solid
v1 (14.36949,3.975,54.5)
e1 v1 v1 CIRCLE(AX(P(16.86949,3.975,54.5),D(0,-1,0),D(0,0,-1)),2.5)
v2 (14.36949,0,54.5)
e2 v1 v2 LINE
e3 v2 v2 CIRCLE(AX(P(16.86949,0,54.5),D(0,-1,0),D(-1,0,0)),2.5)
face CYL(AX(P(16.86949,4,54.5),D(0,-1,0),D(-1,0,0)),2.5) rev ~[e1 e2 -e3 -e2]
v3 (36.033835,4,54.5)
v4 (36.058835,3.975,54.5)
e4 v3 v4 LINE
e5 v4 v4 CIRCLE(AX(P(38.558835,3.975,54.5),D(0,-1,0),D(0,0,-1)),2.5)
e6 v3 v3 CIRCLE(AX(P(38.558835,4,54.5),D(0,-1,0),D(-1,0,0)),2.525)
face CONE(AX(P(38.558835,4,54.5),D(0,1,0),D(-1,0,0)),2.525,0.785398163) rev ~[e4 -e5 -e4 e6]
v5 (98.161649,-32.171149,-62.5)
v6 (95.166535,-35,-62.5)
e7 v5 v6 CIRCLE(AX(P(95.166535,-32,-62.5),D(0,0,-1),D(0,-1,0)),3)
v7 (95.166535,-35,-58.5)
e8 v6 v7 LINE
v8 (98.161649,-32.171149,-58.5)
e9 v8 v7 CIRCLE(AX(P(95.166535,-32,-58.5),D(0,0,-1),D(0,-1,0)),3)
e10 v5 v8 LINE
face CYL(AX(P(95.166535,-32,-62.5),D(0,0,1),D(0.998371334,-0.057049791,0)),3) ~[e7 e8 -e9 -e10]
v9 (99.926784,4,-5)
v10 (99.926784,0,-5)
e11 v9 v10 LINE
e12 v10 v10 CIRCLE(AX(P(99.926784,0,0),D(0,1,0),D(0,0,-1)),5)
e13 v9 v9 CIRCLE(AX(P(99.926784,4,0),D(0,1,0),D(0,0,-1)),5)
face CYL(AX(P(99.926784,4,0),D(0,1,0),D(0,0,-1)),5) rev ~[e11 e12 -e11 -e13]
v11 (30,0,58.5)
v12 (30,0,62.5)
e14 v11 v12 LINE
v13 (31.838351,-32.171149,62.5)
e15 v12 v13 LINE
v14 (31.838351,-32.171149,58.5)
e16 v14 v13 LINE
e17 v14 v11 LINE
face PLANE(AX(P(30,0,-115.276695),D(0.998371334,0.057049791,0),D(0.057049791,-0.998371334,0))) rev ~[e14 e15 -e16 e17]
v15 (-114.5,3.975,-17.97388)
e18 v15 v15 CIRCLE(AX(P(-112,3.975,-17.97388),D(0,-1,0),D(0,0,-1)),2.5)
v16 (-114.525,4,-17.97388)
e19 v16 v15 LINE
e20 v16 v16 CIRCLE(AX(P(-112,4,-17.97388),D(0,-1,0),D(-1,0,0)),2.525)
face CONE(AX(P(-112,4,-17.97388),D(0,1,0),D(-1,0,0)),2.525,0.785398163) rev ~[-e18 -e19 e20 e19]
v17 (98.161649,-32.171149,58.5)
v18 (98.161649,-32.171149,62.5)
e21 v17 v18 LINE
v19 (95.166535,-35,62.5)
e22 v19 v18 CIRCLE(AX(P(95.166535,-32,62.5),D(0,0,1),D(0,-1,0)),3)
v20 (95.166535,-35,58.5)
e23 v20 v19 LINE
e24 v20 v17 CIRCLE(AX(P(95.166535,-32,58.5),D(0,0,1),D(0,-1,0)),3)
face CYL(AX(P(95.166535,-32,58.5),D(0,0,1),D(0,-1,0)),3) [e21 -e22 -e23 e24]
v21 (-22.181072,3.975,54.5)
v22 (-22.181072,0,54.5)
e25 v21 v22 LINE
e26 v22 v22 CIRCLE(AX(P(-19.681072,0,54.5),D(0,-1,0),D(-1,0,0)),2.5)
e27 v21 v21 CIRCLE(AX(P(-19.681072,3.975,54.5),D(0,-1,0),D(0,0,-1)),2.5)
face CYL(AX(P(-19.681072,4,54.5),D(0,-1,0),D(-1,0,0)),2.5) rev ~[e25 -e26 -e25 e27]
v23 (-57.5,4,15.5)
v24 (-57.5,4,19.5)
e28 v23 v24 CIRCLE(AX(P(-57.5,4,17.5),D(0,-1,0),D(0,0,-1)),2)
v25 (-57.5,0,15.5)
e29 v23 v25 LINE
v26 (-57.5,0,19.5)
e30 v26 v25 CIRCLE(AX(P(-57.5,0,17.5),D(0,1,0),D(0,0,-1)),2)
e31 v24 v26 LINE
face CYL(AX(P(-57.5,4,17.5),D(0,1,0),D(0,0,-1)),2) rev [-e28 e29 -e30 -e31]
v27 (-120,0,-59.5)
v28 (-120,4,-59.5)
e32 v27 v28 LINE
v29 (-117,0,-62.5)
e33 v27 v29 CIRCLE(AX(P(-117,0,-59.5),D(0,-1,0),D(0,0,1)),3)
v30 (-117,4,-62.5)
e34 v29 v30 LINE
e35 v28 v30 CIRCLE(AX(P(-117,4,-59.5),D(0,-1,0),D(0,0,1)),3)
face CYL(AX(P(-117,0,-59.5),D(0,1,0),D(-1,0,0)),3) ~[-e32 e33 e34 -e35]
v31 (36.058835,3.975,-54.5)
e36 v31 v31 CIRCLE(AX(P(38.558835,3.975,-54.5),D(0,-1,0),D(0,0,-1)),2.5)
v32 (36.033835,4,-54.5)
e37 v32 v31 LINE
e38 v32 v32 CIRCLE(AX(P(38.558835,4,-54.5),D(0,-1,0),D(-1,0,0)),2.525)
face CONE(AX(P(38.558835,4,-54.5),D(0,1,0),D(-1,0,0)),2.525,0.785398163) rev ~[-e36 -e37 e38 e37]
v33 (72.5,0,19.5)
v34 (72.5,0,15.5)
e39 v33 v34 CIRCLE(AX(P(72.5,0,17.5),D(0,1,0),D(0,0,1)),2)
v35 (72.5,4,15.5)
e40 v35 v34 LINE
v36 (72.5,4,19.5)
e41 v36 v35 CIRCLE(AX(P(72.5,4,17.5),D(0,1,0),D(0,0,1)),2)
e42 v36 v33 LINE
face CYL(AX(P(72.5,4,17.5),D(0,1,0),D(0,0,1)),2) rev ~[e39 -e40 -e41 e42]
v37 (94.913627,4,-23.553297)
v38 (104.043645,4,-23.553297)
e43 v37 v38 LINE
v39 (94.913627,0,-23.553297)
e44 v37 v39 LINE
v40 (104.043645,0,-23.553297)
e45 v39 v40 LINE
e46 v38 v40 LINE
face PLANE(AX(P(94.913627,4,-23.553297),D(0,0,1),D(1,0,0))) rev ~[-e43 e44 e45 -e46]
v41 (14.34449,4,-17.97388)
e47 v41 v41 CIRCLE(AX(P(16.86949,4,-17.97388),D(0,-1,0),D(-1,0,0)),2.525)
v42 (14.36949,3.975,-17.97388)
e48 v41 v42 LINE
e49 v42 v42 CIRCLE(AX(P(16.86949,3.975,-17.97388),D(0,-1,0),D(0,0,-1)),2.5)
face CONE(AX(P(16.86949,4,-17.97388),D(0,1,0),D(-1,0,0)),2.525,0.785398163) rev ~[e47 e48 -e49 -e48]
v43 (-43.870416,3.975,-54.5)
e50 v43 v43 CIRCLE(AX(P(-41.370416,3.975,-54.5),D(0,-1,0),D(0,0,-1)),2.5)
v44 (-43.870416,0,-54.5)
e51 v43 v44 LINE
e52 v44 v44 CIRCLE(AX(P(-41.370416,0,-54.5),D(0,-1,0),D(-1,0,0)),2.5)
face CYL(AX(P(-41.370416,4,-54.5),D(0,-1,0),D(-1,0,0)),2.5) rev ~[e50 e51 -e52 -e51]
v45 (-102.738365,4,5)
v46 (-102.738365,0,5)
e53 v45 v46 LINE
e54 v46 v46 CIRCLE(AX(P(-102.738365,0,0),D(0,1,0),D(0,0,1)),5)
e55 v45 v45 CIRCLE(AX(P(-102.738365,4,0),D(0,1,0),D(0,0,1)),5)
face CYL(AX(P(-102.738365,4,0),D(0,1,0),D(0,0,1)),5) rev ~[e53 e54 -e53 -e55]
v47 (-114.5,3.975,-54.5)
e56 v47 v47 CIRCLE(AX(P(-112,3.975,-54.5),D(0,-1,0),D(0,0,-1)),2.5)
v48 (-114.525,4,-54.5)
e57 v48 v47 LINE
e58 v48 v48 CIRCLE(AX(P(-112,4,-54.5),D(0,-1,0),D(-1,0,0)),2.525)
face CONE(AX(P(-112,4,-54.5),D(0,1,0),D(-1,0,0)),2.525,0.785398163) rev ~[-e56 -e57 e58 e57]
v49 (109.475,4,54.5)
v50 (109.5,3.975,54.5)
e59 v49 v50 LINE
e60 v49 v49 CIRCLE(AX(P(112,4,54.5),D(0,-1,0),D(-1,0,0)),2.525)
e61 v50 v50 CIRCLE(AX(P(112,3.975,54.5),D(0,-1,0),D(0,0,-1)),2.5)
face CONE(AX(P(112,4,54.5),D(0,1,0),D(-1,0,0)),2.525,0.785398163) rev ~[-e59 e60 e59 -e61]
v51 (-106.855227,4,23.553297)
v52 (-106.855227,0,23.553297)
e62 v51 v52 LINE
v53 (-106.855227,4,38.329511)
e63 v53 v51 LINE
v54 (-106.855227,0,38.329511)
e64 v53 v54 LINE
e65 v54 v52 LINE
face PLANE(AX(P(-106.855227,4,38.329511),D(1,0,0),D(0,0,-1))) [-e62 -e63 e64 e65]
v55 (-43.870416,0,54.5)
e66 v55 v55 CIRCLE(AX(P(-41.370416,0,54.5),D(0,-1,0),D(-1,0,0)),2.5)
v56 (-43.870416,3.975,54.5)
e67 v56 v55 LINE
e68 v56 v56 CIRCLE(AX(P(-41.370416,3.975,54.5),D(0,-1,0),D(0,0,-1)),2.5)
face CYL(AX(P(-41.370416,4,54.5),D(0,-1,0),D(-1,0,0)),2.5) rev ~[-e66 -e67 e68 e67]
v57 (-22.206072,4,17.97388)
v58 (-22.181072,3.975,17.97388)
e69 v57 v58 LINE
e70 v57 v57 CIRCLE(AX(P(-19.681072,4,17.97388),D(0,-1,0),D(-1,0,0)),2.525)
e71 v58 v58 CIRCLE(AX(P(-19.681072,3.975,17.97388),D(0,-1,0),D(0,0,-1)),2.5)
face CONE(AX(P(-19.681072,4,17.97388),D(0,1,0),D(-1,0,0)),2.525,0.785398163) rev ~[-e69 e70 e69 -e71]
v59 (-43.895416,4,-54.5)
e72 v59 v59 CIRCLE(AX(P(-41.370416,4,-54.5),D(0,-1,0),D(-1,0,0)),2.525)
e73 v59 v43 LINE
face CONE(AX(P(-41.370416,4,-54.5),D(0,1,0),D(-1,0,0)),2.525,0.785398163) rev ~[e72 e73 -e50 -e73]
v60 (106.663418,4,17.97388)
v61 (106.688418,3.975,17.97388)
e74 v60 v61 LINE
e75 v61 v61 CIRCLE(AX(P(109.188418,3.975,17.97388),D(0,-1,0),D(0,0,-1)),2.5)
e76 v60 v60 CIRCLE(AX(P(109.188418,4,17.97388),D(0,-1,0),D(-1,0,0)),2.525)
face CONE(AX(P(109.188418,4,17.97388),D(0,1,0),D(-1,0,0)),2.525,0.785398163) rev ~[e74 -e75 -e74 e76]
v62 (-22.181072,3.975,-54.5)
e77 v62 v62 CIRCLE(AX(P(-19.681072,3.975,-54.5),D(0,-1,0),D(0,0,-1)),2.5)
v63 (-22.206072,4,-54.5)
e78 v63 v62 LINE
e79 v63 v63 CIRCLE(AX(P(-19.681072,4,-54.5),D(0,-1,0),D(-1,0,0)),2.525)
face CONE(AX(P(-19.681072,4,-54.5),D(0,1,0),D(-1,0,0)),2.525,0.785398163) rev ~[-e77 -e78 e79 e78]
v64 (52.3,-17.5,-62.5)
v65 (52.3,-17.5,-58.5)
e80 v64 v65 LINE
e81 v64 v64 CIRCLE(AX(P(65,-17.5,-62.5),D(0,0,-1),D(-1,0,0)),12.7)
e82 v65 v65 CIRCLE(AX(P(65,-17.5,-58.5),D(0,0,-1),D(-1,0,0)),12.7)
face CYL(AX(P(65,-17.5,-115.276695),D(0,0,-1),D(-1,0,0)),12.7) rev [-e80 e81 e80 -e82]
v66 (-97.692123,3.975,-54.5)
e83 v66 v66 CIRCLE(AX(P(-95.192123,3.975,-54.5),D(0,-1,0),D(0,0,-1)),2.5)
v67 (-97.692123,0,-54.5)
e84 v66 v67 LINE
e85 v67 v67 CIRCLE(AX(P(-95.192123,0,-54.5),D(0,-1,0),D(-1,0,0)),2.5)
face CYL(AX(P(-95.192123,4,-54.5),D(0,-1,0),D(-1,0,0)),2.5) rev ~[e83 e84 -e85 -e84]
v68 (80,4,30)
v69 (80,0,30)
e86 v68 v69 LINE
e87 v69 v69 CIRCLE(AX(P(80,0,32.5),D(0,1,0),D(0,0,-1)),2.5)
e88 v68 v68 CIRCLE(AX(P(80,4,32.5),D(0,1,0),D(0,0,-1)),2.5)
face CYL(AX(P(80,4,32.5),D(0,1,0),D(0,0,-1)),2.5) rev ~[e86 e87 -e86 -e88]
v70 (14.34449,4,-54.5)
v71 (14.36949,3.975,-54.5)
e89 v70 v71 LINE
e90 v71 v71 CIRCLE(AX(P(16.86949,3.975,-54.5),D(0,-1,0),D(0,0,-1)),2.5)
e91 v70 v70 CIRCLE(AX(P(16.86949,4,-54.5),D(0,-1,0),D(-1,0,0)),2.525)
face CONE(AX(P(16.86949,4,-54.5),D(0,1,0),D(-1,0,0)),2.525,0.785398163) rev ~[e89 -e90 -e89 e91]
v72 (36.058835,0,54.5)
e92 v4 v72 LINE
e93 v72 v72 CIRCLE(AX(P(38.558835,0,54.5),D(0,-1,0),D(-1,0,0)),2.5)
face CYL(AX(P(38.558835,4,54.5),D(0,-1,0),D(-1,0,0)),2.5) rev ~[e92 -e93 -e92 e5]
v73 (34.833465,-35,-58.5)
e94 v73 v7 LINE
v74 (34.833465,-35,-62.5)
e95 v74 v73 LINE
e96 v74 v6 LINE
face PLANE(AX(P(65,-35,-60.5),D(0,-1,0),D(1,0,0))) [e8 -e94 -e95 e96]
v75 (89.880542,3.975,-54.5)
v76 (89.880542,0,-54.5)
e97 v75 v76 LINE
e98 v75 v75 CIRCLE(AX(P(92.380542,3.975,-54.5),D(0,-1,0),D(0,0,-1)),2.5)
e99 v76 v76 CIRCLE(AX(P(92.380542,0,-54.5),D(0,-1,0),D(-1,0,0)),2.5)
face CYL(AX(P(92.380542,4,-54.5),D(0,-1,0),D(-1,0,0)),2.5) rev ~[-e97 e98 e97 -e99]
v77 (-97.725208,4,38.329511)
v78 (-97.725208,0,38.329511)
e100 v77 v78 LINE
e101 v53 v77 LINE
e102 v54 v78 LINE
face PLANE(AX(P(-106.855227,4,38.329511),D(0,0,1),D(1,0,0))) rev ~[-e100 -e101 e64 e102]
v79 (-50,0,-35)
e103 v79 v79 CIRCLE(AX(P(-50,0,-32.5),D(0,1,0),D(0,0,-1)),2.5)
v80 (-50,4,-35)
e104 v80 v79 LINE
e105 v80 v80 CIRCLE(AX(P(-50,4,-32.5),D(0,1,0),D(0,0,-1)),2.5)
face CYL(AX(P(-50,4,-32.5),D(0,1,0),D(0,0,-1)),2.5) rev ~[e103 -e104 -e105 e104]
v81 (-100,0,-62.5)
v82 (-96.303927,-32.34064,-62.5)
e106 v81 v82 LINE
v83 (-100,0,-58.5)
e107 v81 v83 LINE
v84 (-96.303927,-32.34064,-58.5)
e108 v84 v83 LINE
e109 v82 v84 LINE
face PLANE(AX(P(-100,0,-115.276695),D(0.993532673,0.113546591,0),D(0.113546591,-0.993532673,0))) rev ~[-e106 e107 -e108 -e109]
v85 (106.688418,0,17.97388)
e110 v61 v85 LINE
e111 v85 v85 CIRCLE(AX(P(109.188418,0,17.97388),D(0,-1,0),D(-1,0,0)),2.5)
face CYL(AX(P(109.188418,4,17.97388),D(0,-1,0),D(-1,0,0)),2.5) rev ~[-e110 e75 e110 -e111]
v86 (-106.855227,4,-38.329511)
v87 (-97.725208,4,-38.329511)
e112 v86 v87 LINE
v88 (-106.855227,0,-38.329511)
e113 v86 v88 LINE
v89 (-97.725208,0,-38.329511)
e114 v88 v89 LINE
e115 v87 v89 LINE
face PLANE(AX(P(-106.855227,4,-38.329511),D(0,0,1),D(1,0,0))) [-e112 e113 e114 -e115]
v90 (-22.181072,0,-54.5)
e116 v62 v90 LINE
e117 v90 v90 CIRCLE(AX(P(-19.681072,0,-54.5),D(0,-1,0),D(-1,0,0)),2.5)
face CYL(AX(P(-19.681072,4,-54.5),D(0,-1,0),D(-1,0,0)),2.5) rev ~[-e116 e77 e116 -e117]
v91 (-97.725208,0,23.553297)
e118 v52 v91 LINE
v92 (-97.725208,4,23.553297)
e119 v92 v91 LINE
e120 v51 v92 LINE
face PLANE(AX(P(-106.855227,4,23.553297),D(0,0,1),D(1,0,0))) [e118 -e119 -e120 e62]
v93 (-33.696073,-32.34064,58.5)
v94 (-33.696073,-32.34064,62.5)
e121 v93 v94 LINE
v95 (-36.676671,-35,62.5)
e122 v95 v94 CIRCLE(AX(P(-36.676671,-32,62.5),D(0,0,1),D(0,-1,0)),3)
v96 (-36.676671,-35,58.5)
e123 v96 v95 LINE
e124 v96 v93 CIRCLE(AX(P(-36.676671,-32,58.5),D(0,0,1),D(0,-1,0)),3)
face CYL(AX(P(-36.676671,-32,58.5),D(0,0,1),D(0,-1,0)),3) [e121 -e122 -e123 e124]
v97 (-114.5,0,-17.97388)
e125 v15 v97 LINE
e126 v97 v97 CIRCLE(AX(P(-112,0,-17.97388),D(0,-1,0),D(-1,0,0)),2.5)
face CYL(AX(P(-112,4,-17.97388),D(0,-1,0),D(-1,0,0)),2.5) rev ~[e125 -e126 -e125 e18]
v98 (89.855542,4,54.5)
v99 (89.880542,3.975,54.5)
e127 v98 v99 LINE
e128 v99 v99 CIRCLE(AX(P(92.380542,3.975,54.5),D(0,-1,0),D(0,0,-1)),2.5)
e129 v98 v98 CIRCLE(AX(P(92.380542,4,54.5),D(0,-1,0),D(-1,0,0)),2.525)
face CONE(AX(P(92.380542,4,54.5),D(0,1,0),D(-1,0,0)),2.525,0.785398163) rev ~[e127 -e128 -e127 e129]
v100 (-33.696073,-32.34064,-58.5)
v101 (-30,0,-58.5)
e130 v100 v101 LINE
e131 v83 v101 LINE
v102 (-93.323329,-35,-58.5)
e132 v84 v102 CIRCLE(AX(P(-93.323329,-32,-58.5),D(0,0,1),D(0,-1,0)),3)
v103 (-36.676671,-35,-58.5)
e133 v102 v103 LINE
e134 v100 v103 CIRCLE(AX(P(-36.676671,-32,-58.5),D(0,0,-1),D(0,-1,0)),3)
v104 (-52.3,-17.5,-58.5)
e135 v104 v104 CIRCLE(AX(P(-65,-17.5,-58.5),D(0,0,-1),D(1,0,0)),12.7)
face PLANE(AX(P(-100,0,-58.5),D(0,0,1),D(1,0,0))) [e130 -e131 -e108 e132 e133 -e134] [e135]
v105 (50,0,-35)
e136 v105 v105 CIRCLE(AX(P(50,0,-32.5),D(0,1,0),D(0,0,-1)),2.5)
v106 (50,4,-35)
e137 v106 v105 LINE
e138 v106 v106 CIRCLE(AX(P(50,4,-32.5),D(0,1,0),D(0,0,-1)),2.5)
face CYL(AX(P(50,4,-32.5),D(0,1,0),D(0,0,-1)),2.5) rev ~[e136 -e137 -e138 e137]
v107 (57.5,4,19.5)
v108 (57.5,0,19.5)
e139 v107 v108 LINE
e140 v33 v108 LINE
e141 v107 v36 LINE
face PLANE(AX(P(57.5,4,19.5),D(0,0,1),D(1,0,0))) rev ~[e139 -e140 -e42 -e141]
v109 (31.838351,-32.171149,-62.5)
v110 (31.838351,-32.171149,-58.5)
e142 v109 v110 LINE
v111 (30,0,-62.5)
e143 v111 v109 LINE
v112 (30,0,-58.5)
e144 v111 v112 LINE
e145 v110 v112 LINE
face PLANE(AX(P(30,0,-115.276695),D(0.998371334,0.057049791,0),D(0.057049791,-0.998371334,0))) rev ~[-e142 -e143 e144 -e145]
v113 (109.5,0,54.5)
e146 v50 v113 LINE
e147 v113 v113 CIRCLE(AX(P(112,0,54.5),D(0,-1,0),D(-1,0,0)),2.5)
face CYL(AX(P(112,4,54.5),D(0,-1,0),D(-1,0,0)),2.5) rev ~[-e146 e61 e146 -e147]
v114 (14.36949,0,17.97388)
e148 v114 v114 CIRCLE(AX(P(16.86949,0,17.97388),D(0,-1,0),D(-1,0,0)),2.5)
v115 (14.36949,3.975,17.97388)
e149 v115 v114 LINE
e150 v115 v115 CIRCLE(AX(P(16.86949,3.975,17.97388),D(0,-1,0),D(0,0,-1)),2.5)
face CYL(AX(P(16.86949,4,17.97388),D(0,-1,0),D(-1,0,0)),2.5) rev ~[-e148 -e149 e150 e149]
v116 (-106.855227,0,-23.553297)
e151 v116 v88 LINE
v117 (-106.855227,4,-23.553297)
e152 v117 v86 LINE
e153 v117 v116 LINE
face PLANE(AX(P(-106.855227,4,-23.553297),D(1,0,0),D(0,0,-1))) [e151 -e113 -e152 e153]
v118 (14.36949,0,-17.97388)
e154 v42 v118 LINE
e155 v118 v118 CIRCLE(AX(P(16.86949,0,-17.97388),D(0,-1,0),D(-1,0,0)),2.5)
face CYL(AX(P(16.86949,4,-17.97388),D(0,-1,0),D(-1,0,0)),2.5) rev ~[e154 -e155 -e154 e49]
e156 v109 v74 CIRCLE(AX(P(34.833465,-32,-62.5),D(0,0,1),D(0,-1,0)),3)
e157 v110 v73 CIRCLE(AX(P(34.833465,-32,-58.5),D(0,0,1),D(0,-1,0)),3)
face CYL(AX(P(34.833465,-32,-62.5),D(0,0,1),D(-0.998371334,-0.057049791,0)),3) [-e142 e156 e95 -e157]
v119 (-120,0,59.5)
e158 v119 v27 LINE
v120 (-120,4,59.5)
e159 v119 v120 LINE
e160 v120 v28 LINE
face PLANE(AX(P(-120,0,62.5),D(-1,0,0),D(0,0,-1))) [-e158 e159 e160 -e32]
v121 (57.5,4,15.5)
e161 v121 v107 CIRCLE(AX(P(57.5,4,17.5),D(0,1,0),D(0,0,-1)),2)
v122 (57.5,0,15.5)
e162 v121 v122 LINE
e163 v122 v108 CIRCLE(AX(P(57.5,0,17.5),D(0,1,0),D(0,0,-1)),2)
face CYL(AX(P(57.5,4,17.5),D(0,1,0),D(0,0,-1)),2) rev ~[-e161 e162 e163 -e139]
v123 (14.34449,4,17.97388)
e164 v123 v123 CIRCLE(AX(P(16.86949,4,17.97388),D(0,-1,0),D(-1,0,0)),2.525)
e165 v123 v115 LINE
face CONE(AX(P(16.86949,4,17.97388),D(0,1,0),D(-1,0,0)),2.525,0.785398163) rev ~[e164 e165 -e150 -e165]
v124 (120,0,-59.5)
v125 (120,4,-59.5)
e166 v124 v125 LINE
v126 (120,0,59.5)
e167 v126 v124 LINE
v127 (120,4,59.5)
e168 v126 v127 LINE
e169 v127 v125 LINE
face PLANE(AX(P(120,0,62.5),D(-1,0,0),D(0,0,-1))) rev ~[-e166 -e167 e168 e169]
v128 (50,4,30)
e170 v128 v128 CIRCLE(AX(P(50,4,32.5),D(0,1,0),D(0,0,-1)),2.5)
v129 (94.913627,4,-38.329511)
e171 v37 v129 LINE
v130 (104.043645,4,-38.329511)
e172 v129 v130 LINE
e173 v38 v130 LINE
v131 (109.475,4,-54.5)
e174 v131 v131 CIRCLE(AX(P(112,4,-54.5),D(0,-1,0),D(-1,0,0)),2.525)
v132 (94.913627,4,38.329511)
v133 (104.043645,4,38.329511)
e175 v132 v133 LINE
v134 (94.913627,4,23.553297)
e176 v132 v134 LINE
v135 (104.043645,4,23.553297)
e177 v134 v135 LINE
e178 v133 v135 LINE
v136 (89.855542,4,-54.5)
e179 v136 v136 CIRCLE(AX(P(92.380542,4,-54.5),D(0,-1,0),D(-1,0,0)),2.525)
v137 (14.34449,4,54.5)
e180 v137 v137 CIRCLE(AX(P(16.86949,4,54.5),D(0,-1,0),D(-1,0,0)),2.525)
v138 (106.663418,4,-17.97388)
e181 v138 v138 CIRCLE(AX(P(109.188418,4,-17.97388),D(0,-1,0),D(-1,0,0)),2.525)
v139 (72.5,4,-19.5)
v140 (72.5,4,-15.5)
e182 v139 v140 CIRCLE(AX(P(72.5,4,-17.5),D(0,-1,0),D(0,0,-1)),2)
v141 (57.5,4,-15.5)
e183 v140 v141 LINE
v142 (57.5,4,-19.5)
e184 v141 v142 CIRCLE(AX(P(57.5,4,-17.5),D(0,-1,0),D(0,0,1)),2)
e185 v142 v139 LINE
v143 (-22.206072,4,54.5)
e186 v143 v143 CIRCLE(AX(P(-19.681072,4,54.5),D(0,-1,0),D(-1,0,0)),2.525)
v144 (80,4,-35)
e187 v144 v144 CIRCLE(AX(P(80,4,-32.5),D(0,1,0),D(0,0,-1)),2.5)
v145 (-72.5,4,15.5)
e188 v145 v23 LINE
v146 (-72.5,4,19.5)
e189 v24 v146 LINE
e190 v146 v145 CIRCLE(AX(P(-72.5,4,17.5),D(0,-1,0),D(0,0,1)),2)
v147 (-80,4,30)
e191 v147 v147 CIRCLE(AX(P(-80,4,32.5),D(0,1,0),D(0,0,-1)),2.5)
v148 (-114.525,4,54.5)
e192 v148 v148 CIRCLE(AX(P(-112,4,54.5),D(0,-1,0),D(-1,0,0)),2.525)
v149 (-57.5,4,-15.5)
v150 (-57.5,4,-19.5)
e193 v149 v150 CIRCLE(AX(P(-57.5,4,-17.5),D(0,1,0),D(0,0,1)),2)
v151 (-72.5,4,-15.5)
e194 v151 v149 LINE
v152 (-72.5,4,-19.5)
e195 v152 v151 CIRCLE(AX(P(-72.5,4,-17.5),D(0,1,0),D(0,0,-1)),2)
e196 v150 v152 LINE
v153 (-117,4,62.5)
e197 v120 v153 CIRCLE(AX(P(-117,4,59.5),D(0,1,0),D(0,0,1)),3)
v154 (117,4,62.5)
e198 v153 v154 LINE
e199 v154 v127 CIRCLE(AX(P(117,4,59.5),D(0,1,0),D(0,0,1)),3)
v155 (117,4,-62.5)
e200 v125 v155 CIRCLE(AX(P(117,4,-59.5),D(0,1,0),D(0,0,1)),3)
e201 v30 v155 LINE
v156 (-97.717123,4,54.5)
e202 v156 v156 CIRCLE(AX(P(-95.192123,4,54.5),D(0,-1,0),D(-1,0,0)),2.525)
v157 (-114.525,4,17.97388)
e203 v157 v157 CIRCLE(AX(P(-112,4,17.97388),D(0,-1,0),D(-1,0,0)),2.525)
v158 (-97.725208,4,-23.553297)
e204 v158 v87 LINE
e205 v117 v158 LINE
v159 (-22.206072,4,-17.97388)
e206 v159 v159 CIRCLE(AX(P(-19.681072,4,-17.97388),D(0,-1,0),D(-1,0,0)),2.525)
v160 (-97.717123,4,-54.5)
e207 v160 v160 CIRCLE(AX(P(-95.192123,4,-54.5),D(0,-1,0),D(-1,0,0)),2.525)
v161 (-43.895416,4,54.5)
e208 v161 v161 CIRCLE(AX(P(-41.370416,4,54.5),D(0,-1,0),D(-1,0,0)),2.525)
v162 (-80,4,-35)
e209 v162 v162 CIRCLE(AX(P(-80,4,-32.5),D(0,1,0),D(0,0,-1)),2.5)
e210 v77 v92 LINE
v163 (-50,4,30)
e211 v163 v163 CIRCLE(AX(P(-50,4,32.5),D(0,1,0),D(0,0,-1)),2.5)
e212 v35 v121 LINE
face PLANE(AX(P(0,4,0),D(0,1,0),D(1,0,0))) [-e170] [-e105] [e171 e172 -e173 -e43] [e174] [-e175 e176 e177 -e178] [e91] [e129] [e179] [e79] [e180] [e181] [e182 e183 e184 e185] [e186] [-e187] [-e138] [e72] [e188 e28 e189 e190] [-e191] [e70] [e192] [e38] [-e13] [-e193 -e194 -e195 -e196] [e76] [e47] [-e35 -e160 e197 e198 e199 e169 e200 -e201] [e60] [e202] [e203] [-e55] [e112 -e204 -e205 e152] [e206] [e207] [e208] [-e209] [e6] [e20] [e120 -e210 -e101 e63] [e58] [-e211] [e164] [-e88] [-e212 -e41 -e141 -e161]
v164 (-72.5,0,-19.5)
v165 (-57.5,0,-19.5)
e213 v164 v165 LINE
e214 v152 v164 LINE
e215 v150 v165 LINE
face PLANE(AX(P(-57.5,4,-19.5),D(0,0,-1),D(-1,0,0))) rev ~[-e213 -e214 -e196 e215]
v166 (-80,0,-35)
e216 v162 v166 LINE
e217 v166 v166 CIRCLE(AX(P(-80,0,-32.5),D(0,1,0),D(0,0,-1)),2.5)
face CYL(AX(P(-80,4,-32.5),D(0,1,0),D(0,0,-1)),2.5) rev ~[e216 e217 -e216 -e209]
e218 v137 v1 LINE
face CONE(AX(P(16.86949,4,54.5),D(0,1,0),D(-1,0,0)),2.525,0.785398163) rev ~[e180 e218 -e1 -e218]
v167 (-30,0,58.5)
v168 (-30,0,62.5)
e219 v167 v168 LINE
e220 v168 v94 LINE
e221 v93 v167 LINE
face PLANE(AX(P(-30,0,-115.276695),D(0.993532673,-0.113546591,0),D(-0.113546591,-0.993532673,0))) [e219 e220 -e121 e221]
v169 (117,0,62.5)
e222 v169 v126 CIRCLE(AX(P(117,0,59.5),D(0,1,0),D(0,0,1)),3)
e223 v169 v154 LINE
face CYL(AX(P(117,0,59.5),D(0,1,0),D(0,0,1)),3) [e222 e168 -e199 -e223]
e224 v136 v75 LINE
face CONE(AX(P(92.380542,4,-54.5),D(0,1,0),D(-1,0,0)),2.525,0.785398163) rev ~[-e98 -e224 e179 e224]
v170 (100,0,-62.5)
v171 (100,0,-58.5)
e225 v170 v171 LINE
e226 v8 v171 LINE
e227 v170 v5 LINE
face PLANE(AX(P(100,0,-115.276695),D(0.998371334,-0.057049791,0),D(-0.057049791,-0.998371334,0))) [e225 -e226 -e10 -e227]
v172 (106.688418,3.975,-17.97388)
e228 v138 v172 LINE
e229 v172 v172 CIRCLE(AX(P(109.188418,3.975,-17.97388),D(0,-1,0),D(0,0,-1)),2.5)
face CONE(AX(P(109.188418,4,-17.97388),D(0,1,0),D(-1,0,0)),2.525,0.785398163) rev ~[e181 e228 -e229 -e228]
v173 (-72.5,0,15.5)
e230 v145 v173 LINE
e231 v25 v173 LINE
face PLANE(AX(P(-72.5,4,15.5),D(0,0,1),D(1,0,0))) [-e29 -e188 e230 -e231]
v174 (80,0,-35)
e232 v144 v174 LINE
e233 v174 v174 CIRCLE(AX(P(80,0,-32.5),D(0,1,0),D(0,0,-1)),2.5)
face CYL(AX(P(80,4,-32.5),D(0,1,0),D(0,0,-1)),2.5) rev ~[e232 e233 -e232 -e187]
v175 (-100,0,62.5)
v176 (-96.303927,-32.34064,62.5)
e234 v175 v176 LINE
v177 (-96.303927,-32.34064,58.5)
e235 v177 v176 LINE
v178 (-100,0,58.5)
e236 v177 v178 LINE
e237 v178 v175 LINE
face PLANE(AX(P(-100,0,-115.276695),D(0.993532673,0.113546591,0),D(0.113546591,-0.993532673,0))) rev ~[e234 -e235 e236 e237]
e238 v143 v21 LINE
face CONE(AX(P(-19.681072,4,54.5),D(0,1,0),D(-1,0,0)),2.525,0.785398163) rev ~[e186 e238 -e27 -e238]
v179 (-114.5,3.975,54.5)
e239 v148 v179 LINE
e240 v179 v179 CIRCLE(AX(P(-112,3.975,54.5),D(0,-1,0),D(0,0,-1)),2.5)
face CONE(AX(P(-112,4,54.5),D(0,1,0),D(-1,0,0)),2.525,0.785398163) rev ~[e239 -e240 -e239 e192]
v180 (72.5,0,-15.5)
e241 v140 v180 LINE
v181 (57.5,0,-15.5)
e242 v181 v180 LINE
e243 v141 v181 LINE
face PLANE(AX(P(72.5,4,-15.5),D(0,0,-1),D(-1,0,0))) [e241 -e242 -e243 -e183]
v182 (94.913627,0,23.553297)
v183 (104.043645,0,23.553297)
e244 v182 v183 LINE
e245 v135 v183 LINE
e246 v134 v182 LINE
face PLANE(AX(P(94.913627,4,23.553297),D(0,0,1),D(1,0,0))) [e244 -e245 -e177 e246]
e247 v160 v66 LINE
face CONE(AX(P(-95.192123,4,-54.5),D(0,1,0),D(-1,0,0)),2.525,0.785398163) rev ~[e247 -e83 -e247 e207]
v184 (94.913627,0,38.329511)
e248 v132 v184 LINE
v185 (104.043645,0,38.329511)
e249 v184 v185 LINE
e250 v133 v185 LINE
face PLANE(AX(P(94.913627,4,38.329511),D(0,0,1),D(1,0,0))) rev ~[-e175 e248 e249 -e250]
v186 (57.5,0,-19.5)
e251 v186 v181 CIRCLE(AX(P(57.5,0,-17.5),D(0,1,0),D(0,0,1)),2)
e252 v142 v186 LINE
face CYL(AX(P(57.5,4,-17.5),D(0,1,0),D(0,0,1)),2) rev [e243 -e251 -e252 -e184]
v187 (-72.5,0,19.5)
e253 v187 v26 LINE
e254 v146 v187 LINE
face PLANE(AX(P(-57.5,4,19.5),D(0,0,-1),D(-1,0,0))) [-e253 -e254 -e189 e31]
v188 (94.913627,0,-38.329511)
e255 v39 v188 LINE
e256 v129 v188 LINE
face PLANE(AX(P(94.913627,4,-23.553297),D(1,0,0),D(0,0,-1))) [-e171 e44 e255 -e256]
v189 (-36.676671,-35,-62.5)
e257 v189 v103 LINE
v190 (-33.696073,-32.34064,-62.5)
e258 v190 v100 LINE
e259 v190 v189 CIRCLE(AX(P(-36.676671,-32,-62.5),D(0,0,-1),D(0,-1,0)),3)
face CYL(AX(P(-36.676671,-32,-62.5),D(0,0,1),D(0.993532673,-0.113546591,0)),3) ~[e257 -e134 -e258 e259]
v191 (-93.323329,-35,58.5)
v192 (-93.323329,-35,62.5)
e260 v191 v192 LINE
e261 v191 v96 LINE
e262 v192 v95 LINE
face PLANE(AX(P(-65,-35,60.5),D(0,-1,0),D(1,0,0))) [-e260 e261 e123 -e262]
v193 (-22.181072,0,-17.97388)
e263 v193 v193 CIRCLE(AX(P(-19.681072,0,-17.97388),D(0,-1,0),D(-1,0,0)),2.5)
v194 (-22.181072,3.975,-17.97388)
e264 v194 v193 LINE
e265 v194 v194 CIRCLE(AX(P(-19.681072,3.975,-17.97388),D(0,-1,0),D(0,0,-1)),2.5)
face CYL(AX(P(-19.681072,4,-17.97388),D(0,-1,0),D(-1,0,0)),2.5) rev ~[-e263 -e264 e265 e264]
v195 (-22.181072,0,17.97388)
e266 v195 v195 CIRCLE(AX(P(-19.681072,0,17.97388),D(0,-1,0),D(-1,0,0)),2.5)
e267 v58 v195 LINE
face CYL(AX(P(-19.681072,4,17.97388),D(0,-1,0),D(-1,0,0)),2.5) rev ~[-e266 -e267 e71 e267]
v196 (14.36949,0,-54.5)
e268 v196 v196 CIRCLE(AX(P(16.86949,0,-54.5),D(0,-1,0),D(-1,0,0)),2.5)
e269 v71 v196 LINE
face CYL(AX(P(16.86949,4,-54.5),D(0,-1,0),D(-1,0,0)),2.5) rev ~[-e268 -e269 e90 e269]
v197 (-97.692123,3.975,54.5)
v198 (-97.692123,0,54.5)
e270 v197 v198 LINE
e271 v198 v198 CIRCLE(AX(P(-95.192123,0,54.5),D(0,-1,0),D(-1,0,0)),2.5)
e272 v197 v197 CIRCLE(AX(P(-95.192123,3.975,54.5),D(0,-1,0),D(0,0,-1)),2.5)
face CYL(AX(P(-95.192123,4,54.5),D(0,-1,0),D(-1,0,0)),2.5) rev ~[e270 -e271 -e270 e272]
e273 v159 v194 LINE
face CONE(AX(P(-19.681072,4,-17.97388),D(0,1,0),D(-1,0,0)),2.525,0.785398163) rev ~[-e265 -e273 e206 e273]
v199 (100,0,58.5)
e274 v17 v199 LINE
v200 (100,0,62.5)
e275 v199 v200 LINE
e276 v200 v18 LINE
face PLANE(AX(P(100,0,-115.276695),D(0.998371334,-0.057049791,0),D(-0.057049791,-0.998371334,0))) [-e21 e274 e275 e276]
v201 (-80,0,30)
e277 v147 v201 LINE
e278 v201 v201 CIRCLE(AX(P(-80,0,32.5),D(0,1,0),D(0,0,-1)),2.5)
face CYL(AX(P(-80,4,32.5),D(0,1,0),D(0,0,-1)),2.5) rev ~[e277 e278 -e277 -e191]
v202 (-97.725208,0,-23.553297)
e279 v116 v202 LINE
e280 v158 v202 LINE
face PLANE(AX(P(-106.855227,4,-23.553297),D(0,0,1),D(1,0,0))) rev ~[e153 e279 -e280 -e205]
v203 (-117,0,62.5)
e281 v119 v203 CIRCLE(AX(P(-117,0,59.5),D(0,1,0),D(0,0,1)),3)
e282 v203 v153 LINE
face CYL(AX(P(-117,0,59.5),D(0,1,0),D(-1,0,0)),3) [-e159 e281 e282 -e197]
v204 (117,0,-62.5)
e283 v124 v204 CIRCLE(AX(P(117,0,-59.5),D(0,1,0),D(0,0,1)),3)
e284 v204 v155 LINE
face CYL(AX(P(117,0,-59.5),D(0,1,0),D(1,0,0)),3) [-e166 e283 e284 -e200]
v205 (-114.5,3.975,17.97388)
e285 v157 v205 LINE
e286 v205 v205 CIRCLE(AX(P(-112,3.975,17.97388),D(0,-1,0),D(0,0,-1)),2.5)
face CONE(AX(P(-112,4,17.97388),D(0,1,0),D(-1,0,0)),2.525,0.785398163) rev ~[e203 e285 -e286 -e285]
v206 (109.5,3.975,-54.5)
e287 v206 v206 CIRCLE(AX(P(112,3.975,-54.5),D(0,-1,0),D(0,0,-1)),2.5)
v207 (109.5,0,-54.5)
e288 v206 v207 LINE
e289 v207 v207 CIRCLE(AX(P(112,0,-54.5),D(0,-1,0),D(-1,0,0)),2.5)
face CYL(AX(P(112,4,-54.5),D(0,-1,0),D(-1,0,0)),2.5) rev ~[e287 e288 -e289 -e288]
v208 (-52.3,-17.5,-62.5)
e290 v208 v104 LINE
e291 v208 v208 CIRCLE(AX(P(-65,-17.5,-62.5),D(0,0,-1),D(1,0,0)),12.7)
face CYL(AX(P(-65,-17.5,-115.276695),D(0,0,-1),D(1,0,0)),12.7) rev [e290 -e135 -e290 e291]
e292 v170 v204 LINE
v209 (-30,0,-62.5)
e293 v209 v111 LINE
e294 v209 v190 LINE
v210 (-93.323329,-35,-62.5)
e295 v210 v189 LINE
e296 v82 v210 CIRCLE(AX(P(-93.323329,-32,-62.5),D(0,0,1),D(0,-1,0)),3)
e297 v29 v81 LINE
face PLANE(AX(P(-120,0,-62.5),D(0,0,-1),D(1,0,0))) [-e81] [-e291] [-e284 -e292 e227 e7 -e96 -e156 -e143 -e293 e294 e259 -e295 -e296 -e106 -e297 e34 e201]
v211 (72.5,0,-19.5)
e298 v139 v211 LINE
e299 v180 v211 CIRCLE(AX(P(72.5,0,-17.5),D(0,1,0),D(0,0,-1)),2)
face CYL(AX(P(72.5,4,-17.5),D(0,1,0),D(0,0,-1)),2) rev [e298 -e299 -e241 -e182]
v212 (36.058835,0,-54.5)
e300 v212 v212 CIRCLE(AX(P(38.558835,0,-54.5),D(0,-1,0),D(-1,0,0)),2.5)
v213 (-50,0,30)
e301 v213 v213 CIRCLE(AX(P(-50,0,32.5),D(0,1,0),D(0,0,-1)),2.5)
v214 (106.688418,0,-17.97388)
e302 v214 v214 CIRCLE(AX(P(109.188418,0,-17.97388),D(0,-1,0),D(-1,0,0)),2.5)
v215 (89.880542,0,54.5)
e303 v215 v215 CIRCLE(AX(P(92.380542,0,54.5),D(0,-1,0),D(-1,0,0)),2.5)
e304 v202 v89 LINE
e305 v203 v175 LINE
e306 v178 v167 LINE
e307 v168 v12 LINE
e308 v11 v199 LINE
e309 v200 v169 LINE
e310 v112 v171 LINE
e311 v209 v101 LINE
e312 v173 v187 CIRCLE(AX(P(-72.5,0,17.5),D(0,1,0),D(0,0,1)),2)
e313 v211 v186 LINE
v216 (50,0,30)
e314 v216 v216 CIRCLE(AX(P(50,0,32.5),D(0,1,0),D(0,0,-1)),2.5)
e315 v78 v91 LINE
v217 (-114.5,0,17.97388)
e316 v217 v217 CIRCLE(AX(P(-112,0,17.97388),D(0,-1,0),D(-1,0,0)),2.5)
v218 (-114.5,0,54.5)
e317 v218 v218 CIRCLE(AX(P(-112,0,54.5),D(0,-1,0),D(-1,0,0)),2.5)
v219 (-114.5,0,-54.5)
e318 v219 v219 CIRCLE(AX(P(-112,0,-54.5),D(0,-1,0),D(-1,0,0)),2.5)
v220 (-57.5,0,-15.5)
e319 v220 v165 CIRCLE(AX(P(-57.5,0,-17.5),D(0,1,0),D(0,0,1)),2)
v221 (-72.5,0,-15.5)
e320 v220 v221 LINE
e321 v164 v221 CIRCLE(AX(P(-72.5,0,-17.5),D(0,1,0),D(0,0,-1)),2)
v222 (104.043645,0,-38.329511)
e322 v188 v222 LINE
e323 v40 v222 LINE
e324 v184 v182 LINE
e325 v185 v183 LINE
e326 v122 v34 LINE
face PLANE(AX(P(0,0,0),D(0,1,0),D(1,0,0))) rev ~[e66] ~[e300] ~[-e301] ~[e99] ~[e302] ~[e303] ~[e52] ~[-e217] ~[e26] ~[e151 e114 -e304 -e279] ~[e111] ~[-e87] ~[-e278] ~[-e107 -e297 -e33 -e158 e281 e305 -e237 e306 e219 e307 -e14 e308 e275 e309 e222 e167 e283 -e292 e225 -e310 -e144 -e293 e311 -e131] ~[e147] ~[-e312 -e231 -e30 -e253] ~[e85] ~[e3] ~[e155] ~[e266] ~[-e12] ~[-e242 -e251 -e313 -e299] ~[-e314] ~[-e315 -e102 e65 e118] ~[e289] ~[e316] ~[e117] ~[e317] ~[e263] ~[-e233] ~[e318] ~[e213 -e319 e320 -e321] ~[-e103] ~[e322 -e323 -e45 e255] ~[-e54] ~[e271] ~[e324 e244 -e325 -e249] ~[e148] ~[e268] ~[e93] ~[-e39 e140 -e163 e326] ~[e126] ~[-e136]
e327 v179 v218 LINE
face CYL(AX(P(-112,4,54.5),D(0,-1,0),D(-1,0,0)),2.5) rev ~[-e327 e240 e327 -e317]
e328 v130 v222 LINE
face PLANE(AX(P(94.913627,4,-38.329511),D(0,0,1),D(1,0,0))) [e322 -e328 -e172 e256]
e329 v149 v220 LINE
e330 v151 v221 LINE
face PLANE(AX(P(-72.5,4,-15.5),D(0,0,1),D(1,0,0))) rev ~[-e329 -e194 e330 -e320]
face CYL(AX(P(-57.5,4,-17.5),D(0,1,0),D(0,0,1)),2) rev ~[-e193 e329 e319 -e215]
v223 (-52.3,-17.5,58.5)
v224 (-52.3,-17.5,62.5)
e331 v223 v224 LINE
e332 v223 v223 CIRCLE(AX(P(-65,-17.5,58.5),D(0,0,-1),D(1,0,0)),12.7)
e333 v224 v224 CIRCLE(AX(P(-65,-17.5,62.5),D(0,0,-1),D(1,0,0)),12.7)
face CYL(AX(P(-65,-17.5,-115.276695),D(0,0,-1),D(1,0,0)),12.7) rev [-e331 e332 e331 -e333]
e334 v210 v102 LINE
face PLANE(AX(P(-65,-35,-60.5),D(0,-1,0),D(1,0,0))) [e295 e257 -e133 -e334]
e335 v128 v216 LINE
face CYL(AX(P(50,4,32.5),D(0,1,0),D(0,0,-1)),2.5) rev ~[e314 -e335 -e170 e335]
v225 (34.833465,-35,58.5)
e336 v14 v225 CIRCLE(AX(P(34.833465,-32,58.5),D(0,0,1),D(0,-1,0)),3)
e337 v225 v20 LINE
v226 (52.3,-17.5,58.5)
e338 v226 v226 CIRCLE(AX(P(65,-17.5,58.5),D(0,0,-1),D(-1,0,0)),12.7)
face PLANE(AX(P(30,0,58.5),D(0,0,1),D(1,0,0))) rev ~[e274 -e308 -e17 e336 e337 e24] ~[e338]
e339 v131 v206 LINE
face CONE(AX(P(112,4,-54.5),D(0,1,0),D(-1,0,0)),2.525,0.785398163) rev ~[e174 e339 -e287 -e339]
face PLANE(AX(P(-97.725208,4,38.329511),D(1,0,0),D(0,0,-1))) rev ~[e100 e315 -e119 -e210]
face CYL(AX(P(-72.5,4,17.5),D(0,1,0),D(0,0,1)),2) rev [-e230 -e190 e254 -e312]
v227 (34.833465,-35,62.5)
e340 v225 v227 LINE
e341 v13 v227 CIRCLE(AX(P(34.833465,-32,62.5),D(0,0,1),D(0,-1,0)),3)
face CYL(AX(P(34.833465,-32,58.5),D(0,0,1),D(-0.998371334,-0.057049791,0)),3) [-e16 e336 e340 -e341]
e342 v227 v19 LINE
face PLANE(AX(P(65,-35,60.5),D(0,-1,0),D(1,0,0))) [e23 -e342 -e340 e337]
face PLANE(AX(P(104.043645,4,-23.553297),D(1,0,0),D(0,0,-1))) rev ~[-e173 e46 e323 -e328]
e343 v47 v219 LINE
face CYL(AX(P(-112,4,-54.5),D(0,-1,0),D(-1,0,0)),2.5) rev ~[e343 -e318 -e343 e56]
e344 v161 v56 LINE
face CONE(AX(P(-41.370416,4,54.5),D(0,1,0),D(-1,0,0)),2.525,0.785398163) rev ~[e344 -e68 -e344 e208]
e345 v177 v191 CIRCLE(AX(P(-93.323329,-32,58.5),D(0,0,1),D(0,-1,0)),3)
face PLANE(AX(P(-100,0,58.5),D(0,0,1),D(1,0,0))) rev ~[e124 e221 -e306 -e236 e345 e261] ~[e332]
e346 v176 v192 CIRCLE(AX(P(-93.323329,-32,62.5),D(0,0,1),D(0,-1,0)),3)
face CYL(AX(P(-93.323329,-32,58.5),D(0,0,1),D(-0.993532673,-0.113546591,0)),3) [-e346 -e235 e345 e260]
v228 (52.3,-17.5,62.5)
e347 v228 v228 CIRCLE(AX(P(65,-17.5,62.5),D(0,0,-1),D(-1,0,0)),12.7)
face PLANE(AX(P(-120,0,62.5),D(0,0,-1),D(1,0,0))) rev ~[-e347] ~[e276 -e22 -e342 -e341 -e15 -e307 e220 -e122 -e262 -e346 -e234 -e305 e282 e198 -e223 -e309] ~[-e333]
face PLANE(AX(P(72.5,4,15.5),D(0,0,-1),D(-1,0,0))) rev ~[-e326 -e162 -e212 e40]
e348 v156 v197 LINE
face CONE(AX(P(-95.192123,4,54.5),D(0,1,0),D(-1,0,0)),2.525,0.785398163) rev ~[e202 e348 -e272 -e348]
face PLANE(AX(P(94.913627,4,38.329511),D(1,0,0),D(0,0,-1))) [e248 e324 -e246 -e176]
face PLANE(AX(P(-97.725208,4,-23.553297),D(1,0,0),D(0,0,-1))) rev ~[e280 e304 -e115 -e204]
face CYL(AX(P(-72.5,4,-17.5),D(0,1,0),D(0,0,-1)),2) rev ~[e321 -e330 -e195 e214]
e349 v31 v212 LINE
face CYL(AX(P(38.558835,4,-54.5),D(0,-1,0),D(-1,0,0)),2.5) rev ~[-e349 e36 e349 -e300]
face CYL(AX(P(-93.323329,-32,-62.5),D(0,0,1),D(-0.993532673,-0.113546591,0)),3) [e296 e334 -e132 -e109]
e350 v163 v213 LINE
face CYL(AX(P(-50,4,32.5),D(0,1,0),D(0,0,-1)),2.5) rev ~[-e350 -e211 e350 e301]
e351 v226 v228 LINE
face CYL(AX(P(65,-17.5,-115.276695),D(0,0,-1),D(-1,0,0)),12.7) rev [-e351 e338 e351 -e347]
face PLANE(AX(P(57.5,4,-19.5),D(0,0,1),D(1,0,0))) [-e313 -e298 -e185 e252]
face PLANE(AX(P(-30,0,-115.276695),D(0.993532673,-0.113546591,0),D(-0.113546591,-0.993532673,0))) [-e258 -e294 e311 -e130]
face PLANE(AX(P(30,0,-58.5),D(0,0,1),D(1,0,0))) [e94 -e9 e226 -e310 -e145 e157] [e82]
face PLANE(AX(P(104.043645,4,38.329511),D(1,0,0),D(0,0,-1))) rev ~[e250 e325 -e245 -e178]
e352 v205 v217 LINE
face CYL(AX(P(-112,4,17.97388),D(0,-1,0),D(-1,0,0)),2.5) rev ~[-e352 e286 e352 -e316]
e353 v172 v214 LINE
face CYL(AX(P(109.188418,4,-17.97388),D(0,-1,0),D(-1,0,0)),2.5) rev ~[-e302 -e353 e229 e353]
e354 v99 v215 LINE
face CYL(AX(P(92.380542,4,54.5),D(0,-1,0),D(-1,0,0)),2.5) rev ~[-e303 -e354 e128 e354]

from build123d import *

# Parameters (mm, degrees)
SKETCH_2_W                      = 240
SKETCH_2_H                      = 125
EXTRUDE_1_DEPTH                 = 4
FILLET_1_R                      = 3
SKETCH_4_W                      = 70
SKETCH_4_H                      = 4
EXTRUDE_3_DEPTH                 = 35
CUT_EXTRUDE_1_DEPTH             = 177.776695297
CUT_EXTRUDE_1_DEPTH_BACK        = 177.776695297
CUT_EXTRUDE_2_DEPTH             = 177.776695297
CUT_EXTRUDE_2_DEPTH_BACK        = 177.776695297
FILLET_2_R                      = 3
FILLET_3_R                      = 3
CUT_EXTRUDE_3_DEPTH             = 177.776695297
CUT_EXTRUDE_3_DEPTH_BACK        = 177.776695297
SKETCH_10_R                     = 12.7
CUT_EXTRUDE_4_REACH             = 142.809
SKETCH_11_R                     = 2.5
CUT_EXTRUDE_4_DIRECTION_2_DEPTH = 141.809268161
HOLE_WIZARD_5_0_5_4_D           = 5
HOLE_WIZARD_5_0_5_4_CSINK_D     = 5.05
HOLE_WIZARD_5_0_5_4_CSINK_ANGLE = 90
HOLE_WIZARD_5_0_5_5_D           = 5
HOLE_WIZARD_5_0_5_5_CSINK_D     = 5.05
HOLE_WIZARD_5_0_5_5_CSINK_ANGLE = 90
SKETCH_26_W                     = 9.130018581
SKETCH_26_H                     = 14.776214284
CUT_EXTRUDE_5_DEPTH             = 10
SKETCH_22_R                     = 5
CUT_EXTRUDE_6_DEPTH             = 10


with BuildPart() as part:
    # 草图2 → 凸台-拉伸1 (new body)
    with BuildSketch(Plane(origin=(0, 0, 0), x_dir=(1, 0, 0), z_dir=(0, 1, 0))):
        Rectangle(SKETCH_2_W, SKETCH_2_H)
    extrude(amount=EXTRUDE_1_DEPTH)

    # 圆角1
    fillet_1_edges = [part.edges().sort_by_distance(p)[0] for p in [
        (120, 2, 62.5),
        (-120, 2, 62.5),
        (-120, 2, -62.5),
        (120, 2, -62.5),
    ]]
    fillet(fillet_1_edges, radius=FILLET_1_R)

    # 草图4 → 凸台-拉伸3 (add)
    with BuildSketch(Plane.XZ):
        with Locations((65, 60.5)):
            Rectangle(SKETCH_4_W, SKETCH_4_H)
        with Locations((-65, 60.5)):
            Rectangle(SKETCH_4_W, SKETCH_4_H)
        with Locations((65, -60.5)):
            Rectangle(SKETCH_4_W, SKETCH_4_H)
        with Locations((-65, -60.5)):
            Rectangle(SKETCH_4_W, SKETCH_4_H)
    extrude(amount=EXTRUDE_3_DEPTH)

    # 草图7 → 切除-拉伸1 (cut, two sides: drawn at the far end of the back side and taken through both)
    with BuildSketch(Plane.XY.offset(62.5).offset(-CUT_EXTRUDE_1_DEPTH_BACK)):
        Polygon((-100, 0), (-96, -35), (-100, -35), align=None)
        Polygon((-30, 0), (-34, -35), (-30, -35), align=None)
    extrude(amount=CUT_EXTRUDE_1_DEPTH + CUT_EXTRUDE_1_DEPTH_BACK, mode=Mode.SUBTRACT)

    # 草图9 → 切除-拉伸2 (cut, two sides: drawn at the far end of the back side and taken through both)
    with BuildSketch(Plane.XY.offset(62.5).offset(-CUT_EXTRUDE_2_DEPTH_BACK)):
        Polygon((30, 0), (32, -35), (30, -35), align=None)
        Polygon((98, -35), (100, -35), (100, 0), align=None)
    extrude(amount=CUT_EXTRUDE_2_DEPTH + CUT_EXTRUDE_2_DEPTH_BACK, mode=Mode.SUBTRACT)

    # 圆角2
    fillet_2_edges = [part.edges().sort_by_distance(p)[0] for p in [
        (-96, -35, 60.5),
    ]]
    fillet(fillet_2_edges, radius=FILLET_2_R)

    # 圆角3
    fillet_3_edges = [part.edges().sort_by_distance(p)[0] for p in [
        (98, -35, -60.5),
        (32, -35, -60.5),
        (98, -35, 60.5),
        (32, -35, 60.5),
        (-34, -35, -60.5),
        (-96, -35, -60.5),
        (-34, -35, 60.5),
    ]]
    fillet(fillet_3_edges, radius=FILLET_3_R)

    # 草图10 → 切除-拉伸3 (cut, two sides: drawn at the far end of the back side and taken through both)
    with BuildSketch(Plane.XY.offset(62.5).offset(-CUT_EXTRUDE_3_DEPTH_BACK)):
        with Locations((-65, -17.5)):
            Circle(SKETCH_10_R)
        with Locations(Location((65, -17.5, 0), (0, 0, 180))):
            Circle(SKETCH_10_R)
    extrude(amount=CUT_EXTRUDE_3_DEPTH + CUT_EXTRUDE_3_DEPTH_BACK, mode=Mode.SUBTRACT)

    # 草图11 → 切除-拉伸4 (cut, up to next)
    with BuildSketch(Plane(origin=(0, 4, 0), x_dir=(1, 0, 0), z_dir=(0, 1, 0)), mode=Mode.PRIVATE) as cut_extrude_4_sk1:
        with Locations(Location((-80, -32.5, 0), (0, 0, 90))):
            Circle(SKETCH_11_R)
    cut_extrude_4_tool1 = extrude(cut_extrude_4_sk1.sketch, amount=-CUT_EXTRUDE_4_REACH, mode=Mode.PRIVATE) & part.part
    # 草图11 → 切除-拉伸4 (cut, up to next)
    with BuildSketch(Plane(origin=(0, 4, 0), x_dir=(1, 0, 0), z_dir=(0, 1, 0)), mode=Mode.PRIVATE) as cut_extrude_4_sk2:
        with Locations(Location((-50, -32.5, 0), (0, 0, 90))):
            Circle(SKETCH_11_R)
    cut_extrude_4_tool2 = extrude(cut_extrude_4_sk2.sketch, amount=-CUT_EXTRUDE_4_REACH, mode=Mode.PRIVATE) & part.part
    # 草图11 → 切除-拉伸4 (cut, up to next)
    with BuildSketch(Plane(origin=(0, 4, 0), x_dir=(1, 0, 0), z_dir=(0, 1, 0)), mode=Mode.PRIVATE) as cut_extrude_4_sk3:
        with Locations(Location((-50, 32.5, 0), (0, 0, 90))):
            Circle(SKETCH_11_R)
    cut_extrude_4_tool3 = extrude(cut_extrude_4_sk3.sketch, amount=-CUT_EXTRUDE_4_REACH, mode=Mode.PRIVATE) & part.part
    # 草图11 → 切除-拉伸4 (cut, up to next)
    with BuildSketch(Plane(origin=(0, 4, 0), x_dir=(1, 0, 0), z_dir=(0, 1, 0)), mode=Mode.PRIVATE) as cut_extrude_4_sk4:
        with Locations(Location((-80, 32.5, 0), (0, 0, 90))):
            Circle(SKETCH_11_R)
    cut_extrude_4_tool4 = extrude(cut_extrude_4_sk4.sketch, amount=-CUT_EXTRUDE_4_REACH, mode=Mode.PRIVATE) & part.part
    # 草图11 → 切除-拉伸4 (cut, up to next)
    with BuildSketch(Plane(origin=(0, 4, 0), x_dir=(1, 0, 0), z_dir=(0, 1, 0)), mode=Mode.PRIVATE) as cut_extrude_4_sk5:
        with Locations(Location((50, -32.5, 0), (0, 0, 90))):
            Circle(SKETCH_11_R)
    cut_extrude_4_tool5 = extrude(cut_extrude_4_sk5.sketch, amount=-CUT_EXTRUDE_4_REACH, mode=Mode.PRIVATE) & part.part
    # 草图11 → 切除-拉伸4 (cut, up to next)
    with BuildSketch(Plane(origin=(0, 4, 0), x_dir=(1, 0, 0), z_dir=(0, 1, 0)), mode=Mode.PRIVATE) as cut_extrude_4_sk6:
        with Locations(Location((50, 32.5, 0), (0, 0, 90))):
            Circle(SKETCH_11_R)
    cut_extrude_4_tool6 = extrude(cut_extrude_4_sk6.sketch, amount=-CUT_EXTRUDE_4_REACH, mode=Mode.PRIVATE) & part.part
    # 草图11 → 切除-拉伸4 (cut, up to next)
    with BuildSketch(Plane(origin=(0, 4, 0), x_dir=(1, 0, 0), z_dir=(0, 1, 0)), mode=Mode.PRIVATE) as cut_extrude_4_sk7:
        with Locations(Location((80, -32.5, 0), (0, 0, 90))):
            Circle(SKETCH_11_R)
    cut_extrude_4_tool7 = extrude(cut_extrude_4_sk7.sketch, amount=-CUT_EXTRUDE_4_REACH, mode=Mode.PRIVATE) & part.part
    # 草图11 → 切除-拉伸4 (cut, up to next)
    with BuildSketch(Plane(origin=(0, 4, 0), x_dir=(1, 0, 0), z_dir=(0, 1, 0)), mode=Mode.PRIVATE) as cut_extrude_4_sk8:
        with Locations(Location((80, 32.5, 0), (0, 0, 90))):
            Circle(SKETCH_11_R)
    cut_extrude_4_tool8 = extrude(cut_extrude_4_sk8.sketch, amount=-CUT_EXTRUDE_4_REACH, mode=Mode.PRIVATE) & part.part
    # 草图11 → 切除-拉伸4 (cut, up to next)
    with BuildSketch(Plane(origin=(0, 4, 0), x_dir=(1, 0, 0), z_dir=(0, 1, 0)), mode=Mode.PRIVATE) as cut_extrude_4_sk9:
        with BuildLine():
            Line((-72.5, -15.5), (-57.5, -15.5))
            ThreePointArc((-57.5, -15.5), (-55.5, -17.5), (-57.5, -19.5))
            Line((-57.5, -19.5), (-72.5, -19.5))
            ThreePointArc((-72.5, -19.5), (-74.5, -17.5), (-72.5, -15.5))
        make_face()
    cut_extrude_4_tool9 = extrude(cut_extrude_4_sk9.sketch, amount=-CUT_EXTRUDE_4_REACH, mode=Mode.PRIVATE) & part.part
    # 草图11 → 切除-拉伸4 (cut, up to next)
    with BuildSketch(Plane(origin=(0, 4, 0), x_dir=(1, 0, 0), z_dir=(0, 1, 0)), mode=Mode.PRIVATE) as cut_extrude_4_sk10:
        with BuildLine():
            Line((-72.5, 15.5), (-57.5, 15.5))
            ThreePointArc((-57.5, 15.5), (-55.5, 17.5), (-57.5, 19.5))
            Line((-57.5, 19.5), (-72.5, 19.5))
            ThreePointArc((-72.5, 19.5), (-74.5, 17.5), (-72.5, 15.5))
        make_face()
    cut_extrude_4_tool10 = extrude(cut_extrude_4_sk10.sketch, amount=-CUT_EXTRUDE_4_REACH, mode=Mode.PRIVATE) & part.part
    # 草图11 → 切除-拉伸4 (cut, up to next)
    with BuildSketch(Plane(origin=(0, 4, 0), x_dir=(1, 0, 0), z_dir=(0, 1, 0)), mode=Mode.PRIVATE) as cut_extrude_4_sk11:
        with BuildLine():
            Line((72.5, -15.5), (57.5, -15.5))
            ThreePointArc((57.5, -15.5), (55.5, -17.5), (57.5, -19.5))
            Line((57.5, -19.5), (72.5, -19.5))
            ThreePointArc((72.5, -19.5), (74.5, -17.5), (72.5, -15.5))
        make_face()
    cut_extrude_4_tool11 = extrude(cut_extrude_4_sk11.sketch, amount=-CUT_EXTRUDE_4_REACH, mode=Mode.PRIVATE) & part.part
    # 草图11 → 切除-拉伸4 (cut, up to next)
    with BuildSketch(Plane(origin=(0, 4, 0), x_dir=(1, 0, 0), z_dir=(0, 1, 0)), mode=Mode.PRIVATE) as cut_extrude_4_sk12:
        with BuildLine():
            Line((72.5, 15.5), (57.5, 15.5))
            ThreePointArc((57.5, 15.5), (55.5, 17.5), (57.5, 19.5))
            Line((57.5, 19.5), (72.5, 19.5))
            ThreePointArc((72.5, 19.5), (74.5, 17.5), (72.5, 15.5))
        make_face()
    cut_extrude_4_tool12 = extrude(cut_extrude_4_sk12.sketch, amount=-CUT_EXTRUDE_4_REACH, mode=Mode.PRIVATE) & part.part
    add(cut_extrude_4_tool1.solids().sort_by_distance((-80, 4, 32.5))[0], mode=Mode.SUBTRACT)
    add(cut_extrude_4_tool2.solids().sort_by_distance((-50, 4, 32.5))[0], mode=Mode.SUBTRACT)
    add(cut_extrude_4_tool3.solids().sort_by_distance((-50, 4, -32.5))[0], mode=Mode.SUBTRACT)
    add(cut_extrude_4_tool4.solids().sort_by_distance((-80, 4, -32.5))[0], mode=Mode.SUBTRACT)
    add(cut_extrude_4_tool5.solids().sort_by_distance((50, 4, 32.5))[0], mode=Mode.SUBTRACT)
    add(cut_extrude_4_tool6.solids().sort_by_distance((50, 4, -32.5))[0], mode=Mode.SUBTRACT)
    add(cut_extrude_4_tool7.solids().sort_by_distance((80, 4, 32.5))[0], mode=Mode.SUBTRACT)
    add(cut_extrude_4_tool8.solids().sort_by_distance((80, 4, -32.5))[0], mode=Mode.SUBTRACT)
    add(cut_extrude_4_tool9.solids().sort_by_distance((-65, 4, 17.5))[0], mode=Mode.SUBTRACT)
    add(cut_extrude_4_tool10.solids().sort_by_distance((-65, 4, -17.5))[0], mode=Mode.SUBTRACT)
    add(cut_extrude_4_tool11.solids().sort_by_distance((65, 4, 17.5))[0], mode=Mode.SUBTRACT)
    add(cut_extrude_4_tool12.solids().sort_by_distance((65, 4, -17.5))[0], mode=Mode.SUBTRACT)

    # 草图11 → 切除-拉伸4 direction 2 (cut)
    with BuildSketch(Plane(origin=(0, 4, 0), x_dir=(1, 0, 0), z_dir=(0, 1, 0))):
        with Locations(Location((-80, -32.5, 0), (0, 0, 90))):
            Circle(SKETCH_11_R)
        with Locations(Location((-50, -32.5, 0), (0, 0, 90))):
            Circle(SKETCH_11_R)
        with Locations(Location((-50, 32.5, 0), (0, 0, 90))):
            Circle(SKETCH_11_R)
        with Locations(Location((-80, 32.5, 0), (0, 0, 90))):
            Circle(SKETCH_11_R)
        with Locations(Location((50, -32.5, 0), (0, 0, 90))):
            Circle(SKETCH_11_R)
        with Locations(Location((50, 32.5, 0), (0, 0, 90))):
            Circle(SKETCH_11_R)
        with Locations(Location((80, -32.5, 0), (0, 0, 90))):
            Circle(SKETCH_11_R)
        with Locations(Location((80, 32.5, 0), (0, 0, 90))):
            Circle(SKETCH_11_R)
        with BuildLine():
            Line((-72.5, -15.5), (-57.5, -15.5))
            ThreePointArc((-57.5, -15.5), (-55.5, -17.5), (-57.5, -19.5))
            Line((-57.5, -19.5), (-72.5, -19.5))
            ThreePointArc((-72.5, -19.5), (-74.5, -17.5), (-72.5, -15.5))
        make_face()
        with BuildLine():
            Line((-72.5, 15.5), (-57.5, 15.5))
            ThreePointArc((-57.5, 15.5), (-55.5, 17.5), (-57.5, 19.5))
            Line((-57.5, 19.5), (-72.5, 19.5))
            ThreePointArc((-72.5, 19.5), (-74.5, 17.5), (-72.5, 15.5))
        make_face()
        with BuildLine():
            Line((72.5, -15.5), (57.5, -15.5))
            ThreePointArc((57.5, -15.5), (55.5, -17.5), (57.5, -19.5))
            Line((57.5, -19.5), (72.5, -19.5))
            ThreePointArc((72.5, -19.5), (74.5, -17.5), (72.5, -15.5))
        make_face()
        with BuildLine():
            Line((72.5, 15.5), (57.5, 15.5))
            ThreePointArc((57.5, 15.5), (55.5, 17.5), (57.5, 19.5))
            Line((57.5, 19.5), (72.5, 19.5))
            ThreePointArc((72.5, 19.5), (74.5, 17.5), (72.5, 15.5))
        make_face()
    extrude(amount=CUT_EXTRUDE_4_DIRECTION_2_DEPTH, mode=Mode.SUBTRACT)

    # Ø5.0 (5) 直径孔4 (through all)
    with Locations(Plane(origin=(0, 4, 0), x_dir=(1, 0, 0), z_dir=(0, 1, 0))):
        with Locations((-112, 54.5), (-112, -54.5), (112, -54.5), (112, 54.5)):
            CounterSinkHole(HOLE_WIZARD_5_0_5_4_D / 2, HOLE_WIZARD_5_0_5_4_CSINK_D / 2, counter_sink_angle=HOLE_WIZARD_5_0_5_4_CSINK_ANGLE)

    # Ø5.0 (5) 直径孔5 (through all)
    with Locations(Plane(origin=(0, 4, 0), x_dir=(1, 0, 0), z_dir=(0, 1, 0))):
        with Locations((-95.192123364, 54.5), (-41.370416483, 54.5), (-19.681071919, 54.5), (-19.681071919, 17.973880171), (-112, 17.973880171), (-112, -17.973880171), (-95.192123364, -54.5), (-41.370416483, -54.5), (-19.681071919, -54.5), (-19.681071919, -17.973880171), (16.869490216, 17.973880171), (16.869490216, -17.973880171), (16.869490216, 54.5), (38.55883478, 54.5), (92.380541661, 54.5), (109.188418297, 17.973880171), (109.188418297, -17.973880171), (92.380541661, -54.5), (38.55883478, -54.5), (16.869490216, -54.5)):
            CounterSinkHole(HOLE_WIZARD_5_0_5_5_D / 2, HOLE_WIZARD_5_0_5_5_CSINK_D / 2, counter_sink_angle=HOLE_WIZARD_5_0_5_5_CSINK_ANGLE)

    # 草图26 → 切除-拉伸5 (cut)
    with BuildSketch(Plane(origin=(0, 4, 0), x_dir=(1, 0, 0), z_dir=(0, 1, 0))):
        with Locations((-102.29021779, 30.941404151)):
            Rectangle(SKETCH_26_W, SKETCH_26_H)
        with Locations((-102.29021779, -30.941404151)):
            Rectangle(SKETCH_26_W, SKETCH_26_H)
        with Locations((99.478636087, -30.941404151)):
            Rectangle(SKETCH_26_W, SKETCH_26_H)
        with Locations((99.478636087, 30.941404151)):
            Rectangle(SKETCH_26_W, SKETCH_26_H)
    extrude(amount=-CUT_EXTRUDE_5_DEPTH, mode=Mode.SUBTRACT)

    # 草图22 → 切除-拉伸6 (cut)
    with BuildSketch(Plane(origin=(0, 4, 0), x_dir=(1, 0, 0), z_dir=(0, 1, 0))):
        with Locations(Location((-102.73836527, 0, 0), (0, 0, 270))):
            Circle(SKETCH_22_R)
        with Locations(Location((99.926783567, 0, 0), (0, 0, 90))):
            Circle(SKETCH_22_R)
    extrude(amount=-CUT_EXTRUDE_6_DEPTH, mode=Mode.SUBTRACT)


solid = part.part
